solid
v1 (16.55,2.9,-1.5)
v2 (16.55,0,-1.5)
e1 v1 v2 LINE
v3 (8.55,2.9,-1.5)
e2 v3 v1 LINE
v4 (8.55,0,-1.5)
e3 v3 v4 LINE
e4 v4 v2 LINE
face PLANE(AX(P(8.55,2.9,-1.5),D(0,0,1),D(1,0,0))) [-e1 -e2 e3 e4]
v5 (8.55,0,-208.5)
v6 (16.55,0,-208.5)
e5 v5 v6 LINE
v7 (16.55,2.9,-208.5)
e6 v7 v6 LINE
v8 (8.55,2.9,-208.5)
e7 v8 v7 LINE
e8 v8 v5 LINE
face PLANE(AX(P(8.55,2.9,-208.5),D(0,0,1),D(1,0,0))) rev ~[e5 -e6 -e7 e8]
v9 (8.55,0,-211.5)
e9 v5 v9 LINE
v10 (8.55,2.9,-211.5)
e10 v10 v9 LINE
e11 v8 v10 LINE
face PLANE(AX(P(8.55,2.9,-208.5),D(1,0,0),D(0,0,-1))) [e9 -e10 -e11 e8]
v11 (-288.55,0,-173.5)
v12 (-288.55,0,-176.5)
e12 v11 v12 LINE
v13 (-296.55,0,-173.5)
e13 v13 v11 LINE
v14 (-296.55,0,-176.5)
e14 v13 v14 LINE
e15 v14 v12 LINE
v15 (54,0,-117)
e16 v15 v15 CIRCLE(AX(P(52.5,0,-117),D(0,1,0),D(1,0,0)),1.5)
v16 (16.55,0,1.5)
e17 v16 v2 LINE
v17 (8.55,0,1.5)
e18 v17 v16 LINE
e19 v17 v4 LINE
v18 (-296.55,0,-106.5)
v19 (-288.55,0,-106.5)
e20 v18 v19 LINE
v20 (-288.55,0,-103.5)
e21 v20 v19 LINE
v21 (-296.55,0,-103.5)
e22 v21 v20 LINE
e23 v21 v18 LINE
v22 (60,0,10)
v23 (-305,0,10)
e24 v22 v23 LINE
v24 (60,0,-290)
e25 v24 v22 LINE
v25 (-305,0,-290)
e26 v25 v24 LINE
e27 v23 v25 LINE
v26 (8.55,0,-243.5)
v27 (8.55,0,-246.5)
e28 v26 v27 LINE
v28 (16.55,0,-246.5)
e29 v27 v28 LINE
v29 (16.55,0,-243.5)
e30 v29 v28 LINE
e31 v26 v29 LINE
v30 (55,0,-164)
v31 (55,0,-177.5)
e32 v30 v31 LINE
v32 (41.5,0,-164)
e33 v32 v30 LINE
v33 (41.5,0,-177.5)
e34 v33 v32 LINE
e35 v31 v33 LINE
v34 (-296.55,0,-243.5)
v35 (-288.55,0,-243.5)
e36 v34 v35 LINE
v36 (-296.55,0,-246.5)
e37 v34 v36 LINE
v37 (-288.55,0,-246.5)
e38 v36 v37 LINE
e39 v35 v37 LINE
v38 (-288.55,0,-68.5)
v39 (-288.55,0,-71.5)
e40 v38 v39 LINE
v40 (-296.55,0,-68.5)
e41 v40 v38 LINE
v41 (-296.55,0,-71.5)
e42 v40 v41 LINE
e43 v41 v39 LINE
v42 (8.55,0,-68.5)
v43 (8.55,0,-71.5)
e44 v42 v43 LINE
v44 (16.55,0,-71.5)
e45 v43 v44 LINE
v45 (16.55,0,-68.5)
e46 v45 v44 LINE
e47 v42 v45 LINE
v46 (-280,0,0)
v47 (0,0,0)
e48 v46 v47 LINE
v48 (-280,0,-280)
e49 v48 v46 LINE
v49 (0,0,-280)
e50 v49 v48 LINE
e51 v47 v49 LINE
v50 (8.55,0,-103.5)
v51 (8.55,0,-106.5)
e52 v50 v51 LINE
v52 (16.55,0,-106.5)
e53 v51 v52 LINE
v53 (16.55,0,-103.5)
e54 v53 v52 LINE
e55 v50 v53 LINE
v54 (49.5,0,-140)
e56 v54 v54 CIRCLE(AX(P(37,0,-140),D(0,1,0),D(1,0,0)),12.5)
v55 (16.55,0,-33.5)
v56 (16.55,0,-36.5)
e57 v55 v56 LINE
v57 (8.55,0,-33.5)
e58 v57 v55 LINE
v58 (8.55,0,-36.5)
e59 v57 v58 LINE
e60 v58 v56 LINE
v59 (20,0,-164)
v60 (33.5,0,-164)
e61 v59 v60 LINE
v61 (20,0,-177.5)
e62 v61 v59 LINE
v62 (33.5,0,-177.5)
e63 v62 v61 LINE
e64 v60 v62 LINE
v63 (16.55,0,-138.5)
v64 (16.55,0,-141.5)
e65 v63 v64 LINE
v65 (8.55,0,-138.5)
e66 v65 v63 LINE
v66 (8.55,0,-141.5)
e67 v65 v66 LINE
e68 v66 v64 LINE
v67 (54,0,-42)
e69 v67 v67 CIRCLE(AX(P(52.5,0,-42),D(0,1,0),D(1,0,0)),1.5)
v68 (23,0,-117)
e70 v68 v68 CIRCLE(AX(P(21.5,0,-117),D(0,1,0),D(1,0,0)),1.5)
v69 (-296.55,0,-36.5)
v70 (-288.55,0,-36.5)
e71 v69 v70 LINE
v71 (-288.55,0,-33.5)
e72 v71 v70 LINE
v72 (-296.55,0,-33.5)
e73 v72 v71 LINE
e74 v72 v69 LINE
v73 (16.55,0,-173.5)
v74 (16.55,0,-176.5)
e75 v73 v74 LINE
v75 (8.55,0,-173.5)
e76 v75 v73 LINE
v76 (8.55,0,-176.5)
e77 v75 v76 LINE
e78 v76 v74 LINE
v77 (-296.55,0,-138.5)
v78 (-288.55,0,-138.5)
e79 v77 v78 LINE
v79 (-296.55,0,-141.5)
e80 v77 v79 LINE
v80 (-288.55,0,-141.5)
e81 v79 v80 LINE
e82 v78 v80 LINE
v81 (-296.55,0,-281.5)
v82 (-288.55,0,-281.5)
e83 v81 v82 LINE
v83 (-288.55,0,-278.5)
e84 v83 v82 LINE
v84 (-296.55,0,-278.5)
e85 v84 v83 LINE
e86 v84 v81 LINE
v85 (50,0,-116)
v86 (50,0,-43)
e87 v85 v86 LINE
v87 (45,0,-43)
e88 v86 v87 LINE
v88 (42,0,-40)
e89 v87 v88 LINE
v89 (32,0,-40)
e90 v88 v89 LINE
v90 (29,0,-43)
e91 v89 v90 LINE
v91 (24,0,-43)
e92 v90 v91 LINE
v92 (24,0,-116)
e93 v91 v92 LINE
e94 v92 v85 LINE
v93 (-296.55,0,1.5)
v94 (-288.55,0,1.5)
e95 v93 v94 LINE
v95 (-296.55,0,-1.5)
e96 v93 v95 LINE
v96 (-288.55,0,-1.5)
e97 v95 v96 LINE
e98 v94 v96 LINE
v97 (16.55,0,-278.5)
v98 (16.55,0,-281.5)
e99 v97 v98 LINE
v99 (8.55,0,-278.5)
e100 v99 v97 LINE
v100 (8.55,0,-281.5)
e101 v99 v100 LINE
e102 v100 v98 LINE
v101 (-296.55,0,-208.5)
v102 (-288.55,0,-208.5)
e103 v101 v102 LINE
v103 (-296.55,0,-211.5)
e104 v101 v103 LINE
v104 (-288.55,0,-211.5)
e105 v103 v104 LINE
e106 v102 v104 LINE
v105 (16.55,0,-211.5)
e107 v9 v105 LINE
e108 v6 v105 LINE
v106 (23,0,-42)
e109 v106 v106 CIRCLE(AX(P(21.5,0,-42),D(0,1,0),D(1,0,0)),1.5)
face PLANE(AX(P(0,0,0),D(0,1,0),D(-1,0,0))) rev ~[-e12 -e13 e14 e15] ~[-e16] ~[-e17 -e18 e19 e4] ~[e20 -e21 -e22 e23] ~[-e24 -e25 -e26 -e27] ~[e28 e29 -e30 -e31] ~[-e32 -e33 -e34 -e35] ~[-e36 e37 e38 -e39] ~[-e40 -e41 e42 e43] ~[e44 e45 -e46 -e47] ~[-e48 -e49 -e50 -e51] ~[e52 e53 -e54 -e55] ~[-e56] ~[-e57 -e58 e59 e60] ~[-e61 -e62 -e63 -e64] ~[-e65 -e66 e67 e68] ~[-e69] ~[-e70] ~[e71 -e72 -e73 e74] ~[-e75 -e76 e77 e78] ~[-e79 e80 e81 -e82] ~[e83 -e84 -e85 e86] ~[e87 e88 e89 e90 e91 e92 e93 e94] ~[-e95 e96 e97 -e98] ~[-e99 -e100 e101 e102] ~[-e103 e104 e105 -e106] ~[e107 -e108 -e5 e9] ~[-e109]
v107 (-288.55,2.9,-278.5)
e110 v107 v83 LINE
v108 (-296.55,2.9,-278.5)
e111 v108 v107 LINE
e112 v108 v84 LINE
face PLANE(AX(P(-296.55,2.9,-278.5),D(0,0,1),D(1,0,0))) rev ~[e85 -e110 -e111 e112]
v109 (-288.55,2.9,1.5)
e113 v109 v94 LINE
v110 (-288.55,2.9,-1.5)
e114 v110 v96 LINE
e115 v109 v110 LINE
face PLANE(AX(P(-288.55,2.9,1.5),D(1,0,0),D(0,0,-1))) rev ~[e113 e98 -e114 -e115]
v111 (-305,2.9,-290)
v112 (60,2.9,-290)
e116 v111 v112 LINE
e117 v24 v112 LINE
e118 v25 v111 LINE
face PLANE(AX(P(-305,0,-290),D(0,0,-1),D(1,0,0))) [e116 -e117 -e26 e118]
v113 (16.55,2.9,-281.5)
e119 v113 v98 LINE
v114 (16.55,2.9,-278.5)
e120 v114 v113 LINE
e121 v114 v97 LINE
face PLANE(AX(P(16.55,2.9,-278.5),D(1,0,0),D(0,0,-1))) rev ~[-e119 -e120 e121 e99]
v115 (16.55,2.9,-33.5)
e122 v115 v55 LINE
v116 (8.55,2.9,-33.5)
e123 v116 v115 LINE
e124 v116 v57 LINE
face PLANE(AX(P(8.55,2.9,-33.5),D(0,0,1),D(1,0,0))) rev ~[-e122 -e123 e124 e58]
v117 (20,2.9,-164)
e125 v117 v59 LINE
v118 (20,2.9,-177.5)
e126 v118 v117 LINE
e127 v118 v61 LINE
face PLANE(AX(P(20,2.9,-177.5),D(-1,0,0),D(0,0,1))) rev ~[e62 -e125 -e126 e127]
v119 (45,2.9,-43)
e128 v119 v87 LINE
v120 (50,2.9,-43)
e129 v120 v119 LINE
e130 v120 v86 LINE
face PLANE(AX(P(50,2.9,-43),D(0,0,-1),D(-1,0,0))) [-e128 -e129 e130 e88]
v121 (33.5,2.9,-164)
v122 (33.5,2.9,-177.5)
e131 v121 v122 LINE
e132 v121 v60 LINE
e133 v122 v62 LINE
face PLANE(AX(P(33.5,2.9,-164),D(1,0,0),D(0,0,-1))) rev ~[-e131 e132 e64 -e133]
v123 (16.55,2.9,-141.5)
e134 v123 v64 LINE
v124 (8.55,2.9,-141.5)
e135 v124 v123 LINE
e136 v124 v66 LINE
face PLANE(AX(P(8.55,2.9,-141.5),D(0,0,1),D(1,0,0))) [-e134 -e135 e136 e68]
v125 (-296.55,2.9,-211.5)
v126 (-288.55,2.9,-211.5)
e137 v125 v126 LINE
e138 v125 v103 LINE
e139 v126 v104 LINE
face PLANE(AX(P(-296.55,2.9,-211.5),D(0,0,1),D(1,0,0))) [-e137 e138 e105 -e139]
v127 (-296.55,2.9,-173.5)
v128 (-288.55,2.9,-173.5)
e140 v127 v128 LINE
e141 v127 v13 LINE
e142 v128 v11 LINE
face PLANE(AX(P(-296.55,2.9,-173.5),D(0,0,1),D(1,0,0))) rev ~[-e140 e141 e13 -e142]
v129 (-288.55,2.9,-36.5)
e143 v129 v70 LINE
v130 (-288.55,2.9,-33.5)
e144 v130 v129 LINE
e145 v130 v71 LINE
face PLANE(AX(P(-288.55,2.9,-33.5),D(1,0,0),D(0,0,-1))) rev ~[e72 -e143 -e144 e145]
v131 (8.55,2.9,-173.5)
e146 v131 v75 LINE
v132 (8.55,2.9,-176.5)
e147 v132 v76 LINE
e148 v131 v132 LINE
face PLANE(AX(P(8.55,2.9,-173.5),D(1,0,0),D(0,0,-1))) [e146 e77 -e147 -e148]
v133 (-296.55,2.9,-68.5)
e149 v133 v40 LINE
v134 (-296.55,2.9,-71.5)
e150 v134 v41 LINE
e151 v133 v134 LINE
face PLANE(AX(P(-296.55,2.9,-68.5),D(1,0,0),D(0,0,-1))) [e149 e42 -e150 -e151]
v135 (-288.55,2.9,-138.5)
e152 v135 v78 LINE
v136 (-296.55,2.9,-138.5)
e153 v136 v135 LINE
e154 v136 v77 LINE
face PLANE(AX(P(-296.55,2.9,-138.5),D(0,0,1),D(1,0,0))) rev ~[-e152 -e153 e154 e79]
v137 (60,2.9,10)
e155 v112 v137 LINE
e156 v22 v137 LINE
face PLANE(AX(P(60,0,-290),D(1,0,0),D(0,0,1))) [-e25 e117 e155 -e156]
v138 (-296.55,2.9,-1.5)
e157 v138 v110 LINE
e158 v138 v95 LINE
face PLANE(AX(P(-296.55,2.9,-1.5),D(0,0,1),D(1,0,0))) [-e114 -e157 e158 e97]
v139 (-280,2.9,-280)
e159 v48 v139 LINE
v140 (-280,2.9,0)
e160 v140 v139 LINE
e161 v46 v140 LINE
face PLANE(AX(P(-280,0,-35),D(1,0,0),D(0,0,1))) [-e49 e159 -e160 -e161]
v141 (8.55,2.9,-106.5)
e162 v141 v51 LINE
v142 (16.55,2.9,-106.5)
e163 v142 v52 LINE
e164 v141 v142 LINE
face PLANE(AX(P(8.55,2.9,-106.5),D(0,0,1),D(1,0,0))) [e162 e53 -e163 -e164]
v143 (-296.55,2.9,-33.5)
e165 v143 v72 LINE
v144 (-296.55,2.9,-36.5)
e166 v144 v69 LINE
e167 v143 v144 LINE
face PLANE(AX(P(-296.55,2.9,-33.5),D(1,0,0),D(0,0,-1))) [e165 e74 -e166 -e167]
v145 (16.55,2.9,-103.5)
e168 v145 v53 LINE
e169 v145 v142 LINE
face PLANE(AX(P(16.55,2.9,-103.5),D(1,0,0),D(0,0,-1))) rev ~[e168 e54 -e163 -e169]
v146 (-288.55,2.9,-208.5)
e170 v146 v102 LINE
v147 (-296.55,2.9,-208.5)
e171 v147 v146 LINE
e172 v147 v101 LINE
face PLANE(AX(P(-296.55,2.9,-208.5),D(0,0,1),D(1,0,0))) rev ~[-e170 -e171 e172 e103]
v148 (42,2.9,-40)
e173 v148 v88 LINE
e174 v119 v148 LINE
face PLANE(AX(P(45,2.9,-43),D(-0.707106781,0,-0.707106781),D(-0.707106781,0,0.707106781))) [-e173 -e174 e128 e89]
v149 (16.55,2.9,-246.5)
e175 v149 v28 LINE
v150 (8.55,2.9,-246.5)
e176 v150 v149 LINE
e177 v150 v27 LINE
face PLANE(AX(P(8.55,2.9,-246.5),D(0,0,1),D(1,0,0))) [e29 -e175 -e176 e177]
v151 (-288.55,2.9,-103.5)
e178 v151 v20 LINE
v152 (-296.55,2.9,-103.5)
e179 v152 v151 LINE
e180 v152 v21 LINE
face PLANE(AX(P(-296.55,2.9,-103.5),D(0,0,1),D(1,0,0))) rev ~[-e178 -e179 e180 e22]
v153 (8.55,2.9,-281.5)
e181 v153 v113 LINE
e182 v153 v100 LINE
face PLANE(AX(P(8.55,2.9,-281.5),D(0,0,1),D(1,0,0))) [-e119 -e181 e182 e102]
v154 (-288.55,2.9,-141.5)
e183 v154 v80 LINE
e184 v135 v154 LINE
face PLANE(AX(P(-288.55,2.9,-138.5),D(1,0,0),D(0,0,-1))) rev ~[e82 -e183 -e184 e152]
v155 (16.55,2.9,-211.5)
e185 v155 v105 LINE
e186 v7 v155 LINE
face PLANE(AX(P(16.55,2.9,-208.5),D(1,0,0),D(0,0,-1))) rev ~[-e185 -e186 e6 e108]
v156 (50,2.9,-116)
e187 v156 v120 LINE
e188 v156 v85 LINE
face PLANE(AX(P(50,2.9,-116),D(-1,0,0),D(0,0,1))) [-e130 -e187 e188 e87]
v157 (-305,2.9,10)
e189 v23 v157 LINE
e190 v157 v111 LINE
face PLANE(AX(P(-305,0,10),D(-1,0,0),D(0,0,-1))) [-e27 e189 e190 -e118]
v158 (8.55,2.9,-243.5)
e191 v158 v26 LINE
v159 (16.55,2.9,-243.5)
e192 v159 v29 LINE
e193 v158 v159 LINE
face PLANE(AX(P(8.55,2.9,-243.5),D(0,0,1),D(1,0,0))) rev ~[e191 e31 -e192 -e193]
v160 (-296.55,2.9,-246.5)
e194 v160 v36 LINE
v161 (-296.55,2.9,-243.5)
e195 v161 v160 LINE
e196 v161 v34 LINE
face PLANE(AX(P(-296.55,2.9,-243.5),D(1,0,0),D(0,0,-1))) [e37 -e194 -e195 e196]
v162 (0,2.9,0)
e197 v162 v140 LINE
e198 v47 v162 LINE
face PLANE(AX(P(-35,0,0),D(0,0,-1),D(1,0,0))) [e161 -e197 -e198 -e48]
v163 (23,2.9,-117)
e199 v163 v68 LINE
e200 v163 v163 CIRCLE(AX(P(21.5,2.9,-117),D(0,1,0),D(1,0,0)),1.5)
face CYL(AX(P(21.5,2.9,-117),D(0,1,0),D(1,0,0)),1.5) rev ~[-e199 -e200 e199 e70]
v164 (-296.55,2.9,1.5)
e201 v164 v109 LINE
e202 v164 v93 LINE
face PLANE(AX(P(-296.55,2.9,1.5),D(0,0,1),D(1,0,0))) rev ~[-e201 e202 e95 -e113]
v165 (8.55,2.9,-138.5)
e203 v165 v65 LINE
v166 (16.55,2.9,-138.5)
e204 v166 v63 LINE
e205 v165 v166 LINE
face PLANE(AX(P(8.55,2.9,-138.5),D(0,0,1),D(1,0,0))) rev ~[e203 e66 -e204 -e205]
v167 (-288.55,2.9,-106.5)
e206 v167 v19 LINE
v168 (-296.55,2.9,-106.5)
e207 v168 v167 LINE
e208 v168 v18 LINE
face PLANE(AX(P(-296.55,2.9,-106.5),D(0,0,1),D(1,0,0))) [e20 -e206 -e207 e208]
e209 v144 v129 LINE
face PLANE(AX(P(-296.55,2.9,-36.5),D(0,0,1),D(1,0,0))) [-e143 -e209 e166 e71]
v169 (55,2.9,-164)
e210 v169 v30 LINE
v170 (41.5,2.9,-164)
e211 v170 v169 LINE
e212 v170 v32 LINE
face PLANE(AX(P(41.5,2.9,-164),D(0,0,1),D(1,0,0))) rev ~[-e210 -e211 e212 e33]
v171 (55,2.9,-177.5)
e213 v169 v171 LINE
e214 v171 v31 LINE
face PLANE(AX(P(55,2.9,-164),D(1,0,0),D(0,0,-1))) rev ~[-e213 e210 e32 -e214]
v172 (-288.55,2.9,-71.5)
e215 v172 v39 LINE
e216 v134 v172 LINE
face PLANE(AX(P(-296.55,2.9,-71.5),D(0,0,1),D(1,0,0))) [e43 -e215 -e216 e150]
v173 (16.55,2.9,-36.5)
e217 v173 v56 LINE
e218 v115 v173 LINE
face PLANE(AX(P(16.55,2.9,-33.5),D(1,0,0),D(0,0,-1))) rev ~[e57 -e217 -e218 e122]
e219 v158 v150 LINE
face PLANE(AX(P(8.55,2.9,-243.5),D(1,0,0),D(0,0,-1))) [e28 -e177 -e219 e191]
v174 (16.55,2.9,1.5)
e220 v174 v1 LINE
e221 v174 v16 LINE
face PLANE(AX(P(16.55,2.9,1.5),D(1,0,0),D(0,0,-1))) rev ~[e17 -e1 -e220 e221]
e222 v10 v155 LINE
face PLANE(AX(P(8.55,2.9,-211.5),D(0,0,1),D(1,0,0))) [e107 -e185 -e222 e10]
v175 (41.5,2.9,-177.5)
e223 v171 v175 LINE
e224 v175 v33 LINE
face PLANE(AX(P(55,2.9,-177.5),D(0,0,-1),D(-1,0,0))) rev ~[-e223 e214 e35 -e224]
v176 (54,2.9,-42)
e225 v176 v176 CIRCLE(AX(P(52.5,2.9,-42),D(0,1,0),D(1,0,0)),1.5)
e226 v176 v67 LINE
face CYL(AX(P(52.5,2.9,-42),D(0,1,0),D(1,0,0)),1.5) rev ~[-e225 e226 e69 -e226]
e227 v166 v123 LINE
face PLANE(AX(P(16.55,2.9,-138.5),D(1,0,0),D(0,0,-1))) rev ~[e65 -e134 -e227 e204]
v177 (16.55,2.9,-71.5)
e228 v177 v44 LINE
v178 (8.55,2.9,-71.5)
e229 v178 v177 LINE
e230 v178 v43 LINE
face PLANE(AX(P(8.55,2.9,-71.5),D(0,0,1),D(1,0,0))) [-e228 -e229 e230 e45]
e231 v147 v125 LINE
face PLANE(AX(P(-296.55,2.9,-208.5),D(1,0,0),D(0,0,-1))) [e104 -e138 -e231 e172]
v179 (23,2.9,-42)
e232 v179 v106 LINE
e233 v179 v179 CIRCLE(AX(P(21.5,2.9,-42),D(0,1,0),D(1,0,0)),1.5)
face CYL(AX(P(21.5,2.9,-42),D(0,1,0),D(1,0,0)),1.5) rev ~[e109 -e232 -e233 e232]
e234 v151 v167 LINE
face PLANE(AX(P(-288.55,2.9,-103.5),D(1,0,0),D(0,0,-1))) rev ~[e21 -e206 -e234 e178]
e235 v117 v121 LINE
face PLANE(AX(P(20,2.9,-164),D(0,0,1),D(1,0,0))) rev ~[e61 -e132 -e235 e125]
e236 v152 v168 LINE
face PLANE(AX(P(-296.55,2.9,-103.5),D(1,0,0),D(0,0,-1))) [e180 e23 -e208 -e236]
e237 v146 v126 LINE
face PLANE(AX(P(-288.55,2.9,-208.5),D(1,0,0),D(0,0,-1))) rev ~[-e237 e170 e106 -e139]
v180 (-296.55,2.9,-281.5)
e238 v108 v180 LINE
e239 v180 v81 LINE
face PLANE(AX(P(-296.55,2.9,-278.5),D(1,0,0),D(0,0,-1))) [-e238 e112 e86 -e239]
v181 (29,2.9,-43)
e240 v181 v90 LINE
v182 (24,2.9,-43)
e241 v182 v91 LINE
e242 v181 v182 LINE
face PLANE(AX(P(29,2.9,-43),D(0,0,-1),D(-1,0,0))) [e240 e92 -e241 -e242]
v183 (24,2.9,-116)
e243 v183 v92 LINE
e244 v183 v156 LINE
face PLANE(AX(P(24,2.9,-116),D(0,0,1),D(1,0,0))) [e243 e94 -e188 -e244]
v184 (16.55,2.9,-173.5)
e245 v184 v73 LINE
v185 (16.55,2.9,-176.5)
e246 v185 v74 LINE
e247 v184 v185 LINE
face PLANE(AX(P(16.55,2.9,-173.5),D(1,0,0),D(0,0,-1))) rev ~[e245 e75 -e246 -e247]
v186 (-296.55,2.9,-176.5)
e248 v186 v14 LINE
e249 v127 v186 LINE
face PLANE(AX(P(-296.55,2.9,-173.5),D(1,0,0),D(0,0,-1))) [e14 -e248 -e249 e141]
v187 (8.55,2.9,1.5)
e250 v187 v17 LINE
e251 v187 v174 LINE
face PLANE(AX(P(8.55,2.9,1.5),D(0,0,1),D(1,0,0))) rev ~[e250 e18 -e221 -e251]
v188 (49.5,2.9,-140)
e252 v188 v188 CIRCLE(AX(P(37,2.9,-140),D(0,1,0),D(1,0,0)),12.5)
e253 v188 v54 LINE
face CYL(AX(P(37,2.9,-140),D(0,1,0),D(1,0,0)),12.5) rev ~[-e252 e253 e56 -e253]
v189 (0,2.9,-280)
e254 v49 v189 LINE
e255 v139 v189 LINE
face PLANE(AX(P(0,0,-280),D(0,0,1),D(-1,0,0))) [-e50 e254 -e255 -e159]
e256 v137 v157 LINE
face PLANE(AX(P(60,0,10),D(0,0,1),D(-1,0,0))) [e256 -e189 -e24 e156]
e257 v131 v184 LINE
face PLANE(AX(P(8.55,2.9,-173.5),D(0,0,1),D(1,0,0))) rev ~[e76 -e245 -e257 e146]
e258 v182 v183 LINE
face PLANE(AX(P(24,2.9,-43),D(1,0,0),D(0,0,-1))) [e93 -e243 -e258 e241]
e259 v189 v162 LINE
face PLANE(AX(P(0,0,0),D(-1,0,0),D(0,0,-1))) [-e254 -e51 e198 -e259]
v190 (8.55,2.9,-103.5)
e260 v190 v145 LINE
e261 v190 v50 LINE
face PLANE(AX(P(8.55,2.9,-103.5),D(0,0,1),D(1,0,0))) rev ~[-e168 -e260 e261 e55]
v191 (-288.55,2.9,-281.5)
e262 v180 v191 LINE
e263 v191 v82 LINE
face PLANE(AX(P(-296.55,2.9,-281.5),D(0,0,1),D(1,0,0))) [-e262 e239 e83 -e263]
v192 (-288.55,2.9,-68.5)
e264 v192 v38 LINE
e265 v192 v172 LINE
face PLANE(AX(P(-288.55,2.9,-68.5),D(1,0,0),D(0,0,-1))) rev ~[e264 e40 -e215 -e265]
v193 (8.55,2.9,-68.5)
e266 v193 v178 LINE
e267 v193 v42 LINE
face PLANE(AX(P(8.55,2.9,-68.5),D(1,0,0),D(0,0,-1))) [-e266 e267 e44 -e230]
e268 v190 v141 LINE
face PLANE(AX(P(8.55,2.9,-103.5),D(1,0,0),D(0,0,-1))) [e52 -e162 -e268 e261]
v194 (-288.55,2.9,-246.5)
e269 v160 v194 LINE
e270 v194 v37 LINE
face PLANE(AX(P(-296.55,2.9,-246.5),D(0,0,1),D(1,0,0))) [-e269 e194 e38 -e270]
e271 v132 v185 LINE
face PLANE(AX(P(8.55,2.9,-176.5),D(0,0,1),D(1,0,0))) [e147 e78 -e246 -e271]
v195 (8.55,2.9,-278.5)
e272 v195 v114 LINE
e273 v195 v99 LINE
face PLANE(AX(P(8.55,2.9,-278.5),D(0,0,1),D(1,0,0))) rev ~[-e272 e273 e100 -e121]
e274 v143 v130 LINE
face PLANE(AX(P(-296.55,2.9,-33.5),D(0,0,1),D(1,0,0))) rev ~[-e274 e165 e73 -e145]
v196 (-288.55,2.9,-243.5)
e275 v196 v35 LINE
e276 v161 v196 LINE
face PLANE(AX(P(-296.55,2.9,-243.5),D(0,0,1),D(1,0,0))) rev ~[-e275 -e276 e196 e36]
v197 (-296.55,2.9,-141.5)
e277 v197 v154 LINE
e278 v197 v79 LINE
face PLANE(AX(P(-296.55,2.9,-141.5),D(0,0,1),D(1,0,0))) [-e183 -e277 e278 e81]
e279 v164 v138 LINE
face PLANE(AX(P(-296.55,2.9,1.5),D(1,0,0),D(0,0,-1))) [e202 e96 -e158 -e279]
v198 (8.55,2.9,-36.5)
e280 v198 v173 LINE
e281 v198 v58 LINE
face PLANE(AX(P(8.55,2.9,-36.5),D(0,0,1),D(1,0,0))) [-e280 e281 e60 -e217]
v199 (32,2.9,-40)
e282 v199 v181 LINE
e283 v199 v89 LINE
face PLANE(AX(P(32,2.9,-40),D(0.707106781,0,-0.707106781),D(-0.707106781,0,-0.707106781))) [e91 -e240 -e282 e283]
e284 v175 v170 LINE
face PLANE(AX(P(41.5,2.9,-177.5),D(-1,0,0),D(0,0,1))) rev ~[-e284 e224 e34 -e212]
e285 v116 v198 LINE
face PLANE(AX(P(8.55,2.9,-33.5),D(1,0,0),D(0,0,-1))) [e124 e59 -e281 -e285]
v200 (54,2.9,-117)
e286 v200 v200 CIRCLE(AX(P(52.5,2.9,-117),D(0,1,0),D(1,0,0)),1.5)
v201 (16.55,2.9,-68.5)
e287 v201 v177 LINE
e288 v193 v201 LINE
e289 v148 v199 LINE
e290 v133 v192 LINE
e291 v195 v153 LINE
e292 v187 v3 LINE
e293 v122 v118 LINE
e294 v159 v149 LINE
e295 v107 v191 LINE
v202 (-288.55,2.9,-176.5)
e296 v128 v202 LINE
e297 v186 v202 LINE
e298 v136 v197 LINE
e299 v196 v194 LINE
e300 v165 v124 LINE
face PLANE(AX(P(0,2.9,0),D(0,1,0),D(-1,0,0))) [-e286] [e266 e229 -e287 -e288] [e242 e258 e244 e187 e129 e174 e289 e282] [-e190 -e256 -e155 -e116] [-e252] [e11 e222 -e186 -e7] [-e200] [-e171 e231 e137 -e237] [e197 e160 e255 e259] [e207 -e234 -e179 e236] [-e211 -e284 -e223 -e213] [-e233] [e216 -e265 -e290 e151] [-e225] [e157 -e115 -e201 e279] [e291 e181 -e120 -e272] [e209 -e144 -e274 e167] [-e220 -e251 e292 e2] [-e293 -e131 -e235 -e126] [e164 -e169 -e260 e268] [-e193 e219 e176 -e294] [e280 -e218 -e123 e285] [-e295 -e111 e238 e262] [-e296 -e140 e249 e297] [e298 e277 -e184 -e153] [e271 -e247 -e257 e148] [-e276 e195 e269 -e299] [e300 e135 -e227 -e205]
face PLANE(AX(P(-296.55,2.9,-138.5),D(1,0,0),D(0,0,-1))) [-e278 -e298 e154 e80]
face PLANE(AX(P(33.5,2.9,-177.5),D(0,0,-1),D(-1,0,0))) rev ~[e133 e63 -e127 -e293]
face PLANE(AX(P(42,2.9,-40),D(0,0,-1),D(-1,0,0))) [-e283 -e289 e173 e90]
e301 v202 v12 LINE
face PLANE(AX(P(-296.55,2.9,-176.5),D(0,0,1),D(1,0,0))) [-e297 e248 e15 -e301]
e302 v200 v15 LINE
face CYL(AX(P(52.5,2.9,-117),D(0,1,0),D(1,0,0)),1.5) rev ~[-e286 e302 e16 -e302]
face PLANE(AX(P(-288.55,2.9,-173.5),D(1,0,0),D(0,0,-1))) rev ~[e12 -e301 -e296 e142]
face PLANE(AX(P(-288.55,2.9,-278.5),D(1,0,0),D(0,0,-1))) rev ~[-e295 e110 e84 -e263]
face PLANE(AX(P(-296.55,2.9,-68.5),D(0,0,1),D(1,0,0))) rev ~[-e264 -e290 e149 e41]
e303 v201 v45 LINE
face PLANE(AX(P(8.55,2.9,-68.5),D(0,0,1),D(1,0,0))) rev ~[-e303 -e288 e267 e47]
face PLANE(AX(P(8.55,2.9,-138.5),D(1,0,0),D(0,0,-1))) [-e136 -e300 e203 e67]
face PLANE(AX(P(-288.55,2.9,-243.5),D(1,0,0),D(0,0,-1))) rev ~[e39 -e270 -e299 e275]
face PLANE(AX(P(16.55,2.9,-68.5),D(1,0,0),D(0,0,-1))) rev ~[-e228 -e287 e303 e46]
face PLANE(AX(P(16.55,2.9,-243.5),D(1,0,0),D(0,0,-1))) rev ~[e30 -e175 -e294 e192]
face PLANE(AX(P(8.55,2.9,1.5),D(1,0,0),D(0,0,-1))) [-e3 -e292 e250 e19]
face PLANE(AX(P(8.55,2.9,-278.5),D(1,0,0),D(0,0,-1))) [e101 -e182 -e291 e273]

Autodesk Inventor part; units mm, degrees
ref_plane "YZ Plane" through (0, 0, 0) normal (1, 0, 0) x (0, 1, 0)
ref_plane "XZ Plane" through (0, 0, 0) normal (0, 1, 0) x (-1, 0, 0)
ref_plane "XY Plane" through (0, 0, 0) normal (0, 0, 1) x (1, 0, 0)
sketch "Sketch1" plane through (0, 0, 0) normal (0, 1, 0) x (-1, 0, 0)
  line L0 (35, 0) -> (0, 0)
  line L1 (0, 0) -> (0, -35)
  line L2 (0, -35) -> (35, -35)
  line L3 (35, -35) -> (35, 0)
  line L4 (70, 0) -> (35, 0)
  line L5 (35, 0) -> (35, -35)
  line L6 (35, -35) -> (70, -35)
  line L7 (70, -35) -> (70, 0)
  line L8 (105, 0) -> (70, 0)
  line L9 (70, 0) -> (70, -35)
  line L10 (70, -35) -> (105, -35)
  line L11 (105, -35) -> (105, 0)
  line L12 (140, 0) -> (105, 0)
  line L13 (105, 0) -> (105, -35)
  line L14 (105, -35) -> (140, -35)
  line L15 (140, -35) -> (140, 0)
  line L16 (175, 0) -> (140, 0)
  line L17 (140, 0) -> (140, -35)
  line L18 (140, -35) -> (175, -35)
  line L19 (175, -35) -> (175, 0)
  line L20 (210, 0) -> (175, 0)
  line L21 (175, 0) -> (175, -35)
  line L22 (175, -35) -> (210, -35)
  line L23 (210, -35) -> (210, 0)
  line L24 (245, 0) -> (210, 0)
  line L25 (210, 0) -> (210, -35)
  line L26 (210, -35) -> (245, -35)
  line L27 (245, -35) -> (245, 0)
  line L28 (280, 0) -> (245, 0)
  line L29 (245, 0) -> (245, -35)
  line L30 (245, -35) -> (280, -35)
  line L31 (280, -35) -> (280, 0)
  line L32 (35, -35) -> (0, -35)
  line L33 (0, -35) -> (0, -70)
  line L34 (0, -70) -> (35, -70)
  line L35 (35, -70) -> (35, -35)
  line L36 (70, -35) -> (35, -35)
  line L37 (35, -35) -> (35, -70)
  line L38 (35, -70) -> (70, -70)
  line L39 (70, -70) -> (70, -35)
  line L40 (105, -35) -> (70, -35)
  line L41 (70, -35) -> (70, -70)
  line L42 (70, -70) -> (105, -70)
  line L43 (105, -70) -> (105, -35)
  line L44 (140, -35) -> (105, -35)
  line L45 (105, -35) -> (105, -70)
  line L46 (105, -70) -> (140, -70)
  line L47 (140, -70) -> (140, -35)
  line L48 (175, -35) -> (140, -35)
  line L49 (140, -35) -> (140, -70)
  line L50 (140, -70) -> (175, -70)
  line L51 (175, -70) -> (175, -35)
  line L52 (210, -35) -> (175, -35)
  line L53 (175, -35) -> (175, -70)
  line L54 (175, -70) -> (210, -70)
  line L55 (210, -70) -> (210, -35)
  line L56 (245, -35) -> (210, -35)
  line L57 (210, -35) -> (210, -70)
  line L58 (210, -70) -> (245, -70)
  line L59 (245, -70) -> (245, -35)
  line L60 (280, -35) -> (245, -35)
  line L61 (245, -35) -> (245, -70)
  line L62 (245, -70) -> (280, -70)
  line L63 (280, -70) -> (280, -35)
  line L64 (35, -70) -> (0, -70)
  line L65 (0, -70) -> (0, -105)
  line L66 (0, -105) -> (35, -105)
  line L67 (35, -105) -> (35, -70)
  line L68 (70, -70) -> (35, -70)
  line L69 (35, -70) -> (35, -105)
  line L70 (35, -105) -> (70, -105)
  line L71 (70, -105) -> (70, -70)
  line L72 (105, -70) -> (70, -70)
  line L73 (70, -70) -> (70, -105)
  line L74 (70, -105) -> (105, -105)
  line L75 (105, -105) -> (105, -70)
  line L76 (140, -70) -> (105, -70)
  line L77 (105, -70) -> (105, -105)
  line L78 (105, -105) -> (140, -105)
  line L79 (140, -105) -> (140, -70)
  line L80 (175, -70) -> (140, -70)
  line L81 (140, -70) -> (140, -105)
  line L82 (140, -105) -> (175, -105)
  line L83 (175, -105) -> (175, -70)
  line L84 (210, -70) -> (175, -70)
  line L85 (175, -70) -> (175, -105)
  line L86 (175, -105) -> (210, -105)
  line L87 (210, -105) -> (210, -70)
  line L88 (245, -70) -> (210, -70)
  line L89 (210, -70) -> (210, -105)
  line L90 (210, -105) -> (245, -105)
  line L91 (245, -105) -> (245, -70)
  line L92 (280, -70) -> (245, -70)
  line L93 (245, -70) -> (245, -105)
  line L94 (245, -105) -> (280, -105)
  line L95 (280, -105) -> (280, -70)
  line L96 (35, -105) -> (0, -105)
  line L97 (0, -105) -> (0, -140)
  line L98 (0, -140) -> (35, -140)
  line L99 (35, -140) -> (35, -105)
  line L100 (70, -105) -> (35, -105)
  line L101 (35, -105) -> (35, -140)
  line L102 (35, -140) -> (70, -140)
  line L103 (70, -140) -> (70, -105)
  line L104 (105, -105) -> (70, -105)
  line L105 (70, -105) -> (70, -140)
  line L106 (70, -140) -> (105, -140)
  line L107 (105, -140) -> (105, -105)
  line L108 (140, -105) -> (105, -105)
  line L109 (105, -105) -> (105, -140)
  line L110 (105, -140) -> (140, -140)
  line L111 (140, -140) -> (140, -105)
  line L112 (175, -105) -> (140, -105)
  line L113 (140, -105) -> (140, -140)
  line L114 (140, -140) -> (175, -140)
  line L115 (175, -140) -> (175, -105)
  line L116 (210, -105) -> (175, -105)
  line L117 (175, -105) -> (175, -140)
  line L118 (175, -140) -> (210, -140)
  line L119 (210, -140) -> (210, -105)
  line L120 (245, -105) -> (210, -105)
  line L121 (210, -105) -> (210, -140)
  line L122 (210, -140) -> (245, -140)
  line L123 (245, -140) -> (245, -105)
  line L124 (280, -105) -> (245, -105)
  line L125 (245, -105) -> (245, -140)
  line L126 (245, -140) -> (280, -140)
  line L127 (280, -140) -> (280, -105)
  line L128 (35, -140) -> (0, -140)
  line L129 (0, -140) -> (0, -175)
  line L130 (0, -175) -> (35, -175)
  line L131 (35, -175) -> (35, -140)
  line L132 (70, -140) -> (35, -140)
  line L133 (35, -140) -> (35, -175)
  line L134 (35, -175) -> (70, -175)
  line L135 (70, -175) -> (70, -140)
  line L136 (105, -140) -> (70, -140)
  line L137 (70, -140) -> (70, -175)
  line L138 (70, -175) -> (105, -175)
  line L139 (105, -175) -> (105, -140)
  line L140 (140, -140) -> (105, -140)
  line L141 (105, -140) -> (105, -175)
  line L142 (105, -175) -> (140, -175)
  line L143 (140, -175) -> (140, -140)
  line L144 (175, -140) -> (140, -140)
  line L145 (140, -140) -> (140, -175)
  line L146 (140, -175) -> (175, -175)
  line L147 (175, -175) -> (175, -140)
  line L148 (210, -140) -> (175, -140)
  line L149 (175, -140) -> (175, -175)
  line L150 (175, -175) -> (210, -175)
  line L151 (210, -175) -> (210, -140)
  line L152 (245, -140) -> (210, -140)
  line L153 (210, -140) -> (210, -175)
  line L154 (210, -175) -> (245, -175)
  line L155 (245, -175) -> (245, -140)
  line L156 (280, -140) -> (245, -140)
  line L157 (245, -140) -> (245, -175)
  line L158 (245, -175) -> (280, -175)
  line L159 (280, -175) -> (280, -140)
  line L160 (35, -175) -> (0, -175)
  line L161 (0, -175) -> (0, -210)
  line L162 (0, -210) -> (35, -210)
  line L163 (35, -210) -> (35, -175)
  line L164 (70, -175) -> (35, -175)
  line L165 (35, -175) -> (35, -210)
  line L166 (35, -210) -> (70, -210)
  line L167 (70, -210) -> (70, -175)
  line L168 (105, -175) -> (70, -175)
  line L169 (70, -175) -> (70, -210)
  line L170 (70, -210) -> (105, -210)
  line L171 (105, -210) -> (105, -175)
  line L172 (140, -175) -> (105, -175)
  line L173 (105, -175) -> (105, -210)
  line L174 (105, -210) -> (140, -210)
  line L175 (140, -210) -> (140, -175)
  line L176 (175, -175) -> (140, -175)
  line L177 (140, -175) -> (140, -210)
  line L178 (140, -210) -> (175, -210)
  line L179 (175, -210) -> (175, -175)
  line L180 (210, -175) -> (175, -175)
  line L181 (175, -175) -> (175, -210)
  line L182 (175, -210) -> (210, -210)
  line L183 (210, -210) -> (210, -175)
  line L184 (245, -175) -> (210, -175)
  line L185 (210, -175) -> (210, -210)
  line L186 (210, -210) -> (245, -210)
  line L187 (245, -210) -> (245, -175)
  line L188 (280, -175) -> (245, -175)
  line L189 (245, -175) -> (245, -210)
  line L190 (245, -210) -> (280, -210)
  line L191 (280, -210) -> (280, -175)
  line L192 (35, -210) -> (0, -210)
  line L193 (0, -210) -> (0, -245)
  line L194 (0, -245) -> (35, -245)
  line L195 (35, -245) -> (35, -210)
  line L196 (70, -210) -> (35, -210)
  line L197 (35, -210) -> (35, -245)
  line L198 (35, -245) -> (70, -245)
  line L199 (70, -245) -> (70, -210)
  line L200 (105, -210) -> (70, -210)
  line L201 (70, -210) -> (70, -245)
  line L202 (70, -245) -> (105, -245)
  line L203 (105, -245) -> (105, -210)
  line L204 (140, -210) -> (105, -210)
  line L205 (105, -210) -> (105, -245)
  line L206 (105, -245) -> (140, -245)
  line L207 (140, -245) -> (140, -210)
  line L208 (175, -210) -> (140, -210)
  line L209 (140, -210) -> (140, -245)
  line L210 (140, -245) -> (175, -245)
  line L211 (175, -245) -> (175, -210)
  line L212 (210, -210) -> (175, -210)
  line L213 (175, -210) -> (175, -245)
  line L214 (175, -245) -> (210, -245)
  line L215 (210, -245) -> (210, -210)
  line L216 (245, -210) -> (210, -210)
  line L217 (210, -210) -> (210, -245)
  line L218 (210, -245) -> (245, -245)
  line L219 (245, -245) -> (245, -210)
  line L220 (280, -210) -> (245, -210)
  line L221 (245, -210) -> (245, -245)
  line L222 (245, -245) -> (280, -245)
  line L223 (280, -245) -> (280, -210)
  line L224 (35, -245) -> (0, -245)
  line L225 (0, -245) -> (0, -280)
  line L226 (0, -280) -> (35, -280)
  line L227 (35, -280) -> (35, -245)
  line L228 (70, -245) -> (35, -245)
  line L229 (35, -245) -> (35, -280)
  line L230 (35, -280) -> (70, -280)
  line L231 (70, -280) -> (70, -245)
  line L232 (105, -245) -> (70, -245)
  line L233 (70, -245) -> (70, -280)
  line L234 (70, -280) -> (105, -280)
  line L235 (105, -280) -> (105, -245)
  line L236 (140, -245) -> (105, -245)
  line L237 (105, -245) -> (105, -280)
  line L238 (105, -280) -> (140, -280)
  line L239 (140, -280) -> (140, -245)
  line L240 (175, -245) -> (140, -245)
  line L241 (140, -245) -> (140, -280)
  line L242 (140, -280) -> (175, -280)
  line L243 (175, -280) -> (175, -245)
  line L244 (210, -245) -> (175, -245)
  line L245 (175, -245) -> (175, -280)
  line L246 (175, -280) -> (210, -280)
  line L247 (210, -280) -> (210, -245)
  line L248 (245, -245) -> (210, -245)
  line L249 (210, -245) -> (210, -280)
  line L250 (210, -280) -> (245, -280)
  line L251 (245, -280) -> (245, -245)
  line L252 (280, -245) -> (245, -245)
  line L253 (245, -245) -> (245, -280)
  line L254 (245, -280) -> (280, -280)
  line L255 (280, -280) -> (280, -245)
  line L256 (-60, 10) -> (305, 10)
  line L257 (305, 10) -> (305, -290)
  line L258 (305, -290) -> (-60, -290)
  line L259 (-60, -290) -> (-60, 10)
  point P0 (35, -70)
  point P1 (35, -70)
  point P2 (245, -105)
  point P3 (245, -105)
  point P4 (245, 0)
  point P5 (245, -35)
  point P6 (245, -35)
  point P7 (175, 0)
  point P8 (175, -35)
  point P9 (175, -35)
  point P10 (210, -35)
  point P11 (210, -35)
  point P12 (105, 0)
  point P13 (140, -35)
  point P14 (35, 0)
  point P15 (70, -35)
  point P16 (70, -35)
  point P17 (175, -70)
  point P18 (175, -70)
  point P19 (280, -35)
  point P20 (210, 0)
  point P21 (140, 0)
  point P22 (70, 0)
  dimension "d0" = 35
  dimension "d1" = 35
  dimension "d4" = 35
  dimension "d7" = 35
  dimension "d10" = 10
  dimension "d12" = 10
  dimension "d13" = 25
  dimension "d14" = 60
extrude "Border" add sketch "Sketch1" along normal blind 2.9
sketch "Sketch2" plane through (0, 2.9, 0) normal (0, 1, 0) x (1, 0, 0)
  line L0 (-296.55, 68.5) -> (-288.55, 68.5) projected
  line L1 (-288.55, 68.5) -> (-288.55, 71.5) projected
  line L2 (-296.55, 71.5) -> (-288.55, 71.5) projected
  line L3 (-296.55, 68.5) -> (-296.55, 71.5) projected
  line L4 (-296.55, 103.5) -> (-288.55, 103.5) projected
  line L5 (-288.55, 103.5) -> (-288.55, 106.5) projected
  line L6 (-296.55, 106.5) -> (-288.55, 106.5) projected
  line L7 (-296.55, 103.5) -> (-296.55, 106.5) projected
  line L8 (-296.55, 138.5) -> (-288.55, 138.5) projected
  line L9 (-288.55, 138.5) -> (-288.55, 141.5) projected
  line L10 (-296.55, 141.5) -> (-288.55, 141.5) projected
  line L11 (-296.55, 138.5) -> (-296.55, 141.5) projected
  line L12 (-296.55, 173.5) -> (-288.55, 173.5) projected
  line L13 (-288.55, 173.5) -> (-288.55, 176.5) projected
  line L14 (-296.55, 176.5) -> (-288.55, 176.5) projected
  line L15 (-296.55, 173.5) -> (-296.55, 176.5) projected
  line L16 (-296.55, 208.5) -> (-288.55, 208.5) projected
  line L17 (-288.55, 208.5) -> (-288.55, 211.5) projected
  line L18 (-296.55, 211.5) -> (-288.55, 211.5) projected
  line L19 (-296.55, 208.5) -> (-296.55, 211.5) projected
  line L20 (-296.55, 243.5) -> (-288.55, 243.5) projected
  line L21 (-288.55, 243.5) -> (-288.55, 246.5) projected
  line L22 (-296.55, 246.5) -> (-288.55, 246.5) projected
  line L23 (-296.55, 243.5) -> (-296.55, 246.5) projected
  line L24 (-296.55, 278.5) -> (-288.55, 278.5) projected
  line L25 (-288.55, 278.5) -> (-288.55, 281.5) projected
  line L26 (-296.55, 281.5) -> (-288.55, 281.5) projected
  line L27 (-296.55, 278.5) -> (-296.55, 281.5) projected
  line L28 (8.55, 278.5) -> (16.55, 278.5) projected
  line L29 (16.55, 278.5) -> (16.55, 281.5) projected
  line L30 (8.55, 281.5) -> (16.55, 281.5) projected
  line L31 (8.55, 278.5) -> (8.55, 281.5) projected
  line L32 (8.55, 243.5) -> (16.55, 243.5) projected
  line L33 (16.55, 243.5) -> (16.55, 246.5) projected
  line L34 (8.55, 246.5) -> (16.55, 246.5) projected
  line L35 (8.55, 243.5) -> (8.55, 246.5) projected
  line L36 (8.55, 103.5) -> (16.55, 103.5) projected
  line L37 (16.55, 103.5) -> (16.55, 106.5) projected
  line L38 (8.55, 106.5) -> (16.55, 106.5) projected
  line L39 (8.55, 103.5) -> (8.55, 106.5) projected
  line L40 (8.55, 138.5) -> (16.55, 138.5) projected
  line L41 (16.55, 138.5) -> (16.55, 141.5) projected
  line L42 (8.55, 141.5) -> (16.55, 141.5) projected
  line L43 (8.55, 138.5) -> (8.55, 141.5) projected
  line L44 (8.55, 208.5) -> (16.55, 208.5) projected
  line L45 (16.55, 208.5) -> (16.55, 211.5) projected
  line L46 (8.55, 211.5) -> (16.55, 211.5) projected
  line L47 (8.55, 208.5) -> (8.55, 211.5) projected
  line L48 (8.55, 173.5) -> (16.55, 173.5) projected
  line L49 (16.55, 173.5) -> (16.55, 176.5) projected
  line L50 (8.55, 176.5) -> (16.55, 176.5) projected
  line L51 (8.55, 173.5) -> (8.55, 176.5) projected
  line L52 (8.55, -1.5) -> (16.55, -1.5) projected
  line L53 (16.55, -1.5) -> (16.55, 1.5) projected
  line L54 (8.55, 1.5) -> (16.55, 1.5) projected
  line L55 (8.55, -1.5) -> (8.55, 1.5) projected
  line L56 (8.55, 33.5) -> (16.55, 33.5) projected
  line L57 (16.55, 33.5) -> (16.55, 36.5) projected
  line L58 (8.55, 36.5) -> (16.55, 36.5) projected
  line L59 (8.55, 33.5) -> (8.55, 36.5) projected
  line L60 (8.55, 68.5) -> (16.55, 68.5) projected
  line L61 (16.55, 68.5) -> (16.55, 71.5) projected
  line L62 (8.55, 71.5) -> (16.55, 71.5) projected
  line L63 (8.55, 68.5) -> (8.55, 71.5) projected
  line L64 (-296.55, -1.5) -> (-288.55, -1.5) projected
  line L65 (-288.55, -1.5) -> (-288.55, 1.5) projected
  line L66 (-296.55, 1.5) -> (-288.55, 1.5) projected
  line L67 (-296.55, -1.5) -> (-296.55, 1.5) projected
  line L68 (-296.55, 33.5) -> (-288.55, 33.5) projected
  line L69 (-288.55, 33.5) -> (-288.55, 36.5) projected
  line L70 (-296.55, 36.5) -> (-288.55, 36.5) projected
  line L71 (-296.55, 33.5) -> (-296.55, 36.5) projected
extrude "SeperatorPinSlots" cut sketch "Sketch2" against normal through all
sketch "Sketch3" plane through (0, 2.9, 0) normal (0, 1, 0) x (1, 0, 0)
  line L0 (24, 43) -> (24, 116)
  line L1 (24, 116) -> (50, 116)
  line L2 (50, 116) -> (50, 43)
  line L3 (37, 40) -> (37, -10) construction
  line L4 (-305, -10) -> (60, -10) projected
  line L5 (60, 290) -> (-305, 290) projected
  line L6 (60, -10) -> (60, 290) projected
  circle A0 centre (21.5, 117) radius 1.5
  circle A1 centre (52.5, 117) radius 1.5
  circle A2 centre (52.5, 42) radius 1.5
  circle A3 centre (21.5, 42) radius 1.5
  line L7 (52.5, 42) -> (52.5, 79.5) construction
  line L8 (21.5, 42) -> (37, 42) construction
  line L9 (37, 42) -> (52.5, 42) construction
  line L10 (50, 43) -> (45, 43)
  line L11 (45, 43) -> (42, 40)
  line L12 (42, 40) -> (32, 40)
  line L13 (32, 40) -> (29, 43)
  line L14 (29, 43) -> (24, 43)
  line L15 (60, -10) -> (60, 290) projected
  line L16 (41.5, 164) -> (55, 164)
  line L17 (55, 164) -> (55, 177.5)
  line L18 (55, 177.5) -> (41.5, 177.5)
  line L19 (41.5, 177.5) -> (41.5, 164)
  line L20 (20, 164) -> (33.5, 164)
  line L21 (33.5, 164) -> (33.5, 177.5)
  line L22 (33.5, 177.5) -> (20, 177.5)
  line L23 (20, 177.5) -> (20, 164)
  line L24 (-305, 290) -> (-305, -10) projected
  circle A4 centre (37, 140) radius 12.5
  point P0 (26.5, 43)
  point P1 (-122.5, 290)
  dimension "d23" = 73
  dimension "d24" = 26
  dimension "d26" = 3
  dimension "d27" = 3
  dimension "d28" = 3
  dimension "d29" = 3
  dimension "d30" = 31
  dimension "d31" = 75
  dimension "d34" = 135
  dimension "d35" = 135
  dimension "d36" = 10
  dimension "d37" = 3
  dimension "d41" = 13.5
  dimension "d42" = 13.5
  dimension "d43" = 8
  dimension "d44" = 5
  dimension "d48" = 50
  dimension "d49" = 1
  dimension "d50" = 10
  dimension "d51" = 25
  dimension "d52" = 24
  dimension "d53" = 24
extrude "Controls" cut sketch "Sketch3" against normal up to surface (2.9 mm away) contours L0 L1 L2 L10 L11 L12 L13 L14 | A0 | A1 | A2 | A3 | L19 L18 L17 L16 | L23 L22 L21 L20 | A4
properties part number "Board"
